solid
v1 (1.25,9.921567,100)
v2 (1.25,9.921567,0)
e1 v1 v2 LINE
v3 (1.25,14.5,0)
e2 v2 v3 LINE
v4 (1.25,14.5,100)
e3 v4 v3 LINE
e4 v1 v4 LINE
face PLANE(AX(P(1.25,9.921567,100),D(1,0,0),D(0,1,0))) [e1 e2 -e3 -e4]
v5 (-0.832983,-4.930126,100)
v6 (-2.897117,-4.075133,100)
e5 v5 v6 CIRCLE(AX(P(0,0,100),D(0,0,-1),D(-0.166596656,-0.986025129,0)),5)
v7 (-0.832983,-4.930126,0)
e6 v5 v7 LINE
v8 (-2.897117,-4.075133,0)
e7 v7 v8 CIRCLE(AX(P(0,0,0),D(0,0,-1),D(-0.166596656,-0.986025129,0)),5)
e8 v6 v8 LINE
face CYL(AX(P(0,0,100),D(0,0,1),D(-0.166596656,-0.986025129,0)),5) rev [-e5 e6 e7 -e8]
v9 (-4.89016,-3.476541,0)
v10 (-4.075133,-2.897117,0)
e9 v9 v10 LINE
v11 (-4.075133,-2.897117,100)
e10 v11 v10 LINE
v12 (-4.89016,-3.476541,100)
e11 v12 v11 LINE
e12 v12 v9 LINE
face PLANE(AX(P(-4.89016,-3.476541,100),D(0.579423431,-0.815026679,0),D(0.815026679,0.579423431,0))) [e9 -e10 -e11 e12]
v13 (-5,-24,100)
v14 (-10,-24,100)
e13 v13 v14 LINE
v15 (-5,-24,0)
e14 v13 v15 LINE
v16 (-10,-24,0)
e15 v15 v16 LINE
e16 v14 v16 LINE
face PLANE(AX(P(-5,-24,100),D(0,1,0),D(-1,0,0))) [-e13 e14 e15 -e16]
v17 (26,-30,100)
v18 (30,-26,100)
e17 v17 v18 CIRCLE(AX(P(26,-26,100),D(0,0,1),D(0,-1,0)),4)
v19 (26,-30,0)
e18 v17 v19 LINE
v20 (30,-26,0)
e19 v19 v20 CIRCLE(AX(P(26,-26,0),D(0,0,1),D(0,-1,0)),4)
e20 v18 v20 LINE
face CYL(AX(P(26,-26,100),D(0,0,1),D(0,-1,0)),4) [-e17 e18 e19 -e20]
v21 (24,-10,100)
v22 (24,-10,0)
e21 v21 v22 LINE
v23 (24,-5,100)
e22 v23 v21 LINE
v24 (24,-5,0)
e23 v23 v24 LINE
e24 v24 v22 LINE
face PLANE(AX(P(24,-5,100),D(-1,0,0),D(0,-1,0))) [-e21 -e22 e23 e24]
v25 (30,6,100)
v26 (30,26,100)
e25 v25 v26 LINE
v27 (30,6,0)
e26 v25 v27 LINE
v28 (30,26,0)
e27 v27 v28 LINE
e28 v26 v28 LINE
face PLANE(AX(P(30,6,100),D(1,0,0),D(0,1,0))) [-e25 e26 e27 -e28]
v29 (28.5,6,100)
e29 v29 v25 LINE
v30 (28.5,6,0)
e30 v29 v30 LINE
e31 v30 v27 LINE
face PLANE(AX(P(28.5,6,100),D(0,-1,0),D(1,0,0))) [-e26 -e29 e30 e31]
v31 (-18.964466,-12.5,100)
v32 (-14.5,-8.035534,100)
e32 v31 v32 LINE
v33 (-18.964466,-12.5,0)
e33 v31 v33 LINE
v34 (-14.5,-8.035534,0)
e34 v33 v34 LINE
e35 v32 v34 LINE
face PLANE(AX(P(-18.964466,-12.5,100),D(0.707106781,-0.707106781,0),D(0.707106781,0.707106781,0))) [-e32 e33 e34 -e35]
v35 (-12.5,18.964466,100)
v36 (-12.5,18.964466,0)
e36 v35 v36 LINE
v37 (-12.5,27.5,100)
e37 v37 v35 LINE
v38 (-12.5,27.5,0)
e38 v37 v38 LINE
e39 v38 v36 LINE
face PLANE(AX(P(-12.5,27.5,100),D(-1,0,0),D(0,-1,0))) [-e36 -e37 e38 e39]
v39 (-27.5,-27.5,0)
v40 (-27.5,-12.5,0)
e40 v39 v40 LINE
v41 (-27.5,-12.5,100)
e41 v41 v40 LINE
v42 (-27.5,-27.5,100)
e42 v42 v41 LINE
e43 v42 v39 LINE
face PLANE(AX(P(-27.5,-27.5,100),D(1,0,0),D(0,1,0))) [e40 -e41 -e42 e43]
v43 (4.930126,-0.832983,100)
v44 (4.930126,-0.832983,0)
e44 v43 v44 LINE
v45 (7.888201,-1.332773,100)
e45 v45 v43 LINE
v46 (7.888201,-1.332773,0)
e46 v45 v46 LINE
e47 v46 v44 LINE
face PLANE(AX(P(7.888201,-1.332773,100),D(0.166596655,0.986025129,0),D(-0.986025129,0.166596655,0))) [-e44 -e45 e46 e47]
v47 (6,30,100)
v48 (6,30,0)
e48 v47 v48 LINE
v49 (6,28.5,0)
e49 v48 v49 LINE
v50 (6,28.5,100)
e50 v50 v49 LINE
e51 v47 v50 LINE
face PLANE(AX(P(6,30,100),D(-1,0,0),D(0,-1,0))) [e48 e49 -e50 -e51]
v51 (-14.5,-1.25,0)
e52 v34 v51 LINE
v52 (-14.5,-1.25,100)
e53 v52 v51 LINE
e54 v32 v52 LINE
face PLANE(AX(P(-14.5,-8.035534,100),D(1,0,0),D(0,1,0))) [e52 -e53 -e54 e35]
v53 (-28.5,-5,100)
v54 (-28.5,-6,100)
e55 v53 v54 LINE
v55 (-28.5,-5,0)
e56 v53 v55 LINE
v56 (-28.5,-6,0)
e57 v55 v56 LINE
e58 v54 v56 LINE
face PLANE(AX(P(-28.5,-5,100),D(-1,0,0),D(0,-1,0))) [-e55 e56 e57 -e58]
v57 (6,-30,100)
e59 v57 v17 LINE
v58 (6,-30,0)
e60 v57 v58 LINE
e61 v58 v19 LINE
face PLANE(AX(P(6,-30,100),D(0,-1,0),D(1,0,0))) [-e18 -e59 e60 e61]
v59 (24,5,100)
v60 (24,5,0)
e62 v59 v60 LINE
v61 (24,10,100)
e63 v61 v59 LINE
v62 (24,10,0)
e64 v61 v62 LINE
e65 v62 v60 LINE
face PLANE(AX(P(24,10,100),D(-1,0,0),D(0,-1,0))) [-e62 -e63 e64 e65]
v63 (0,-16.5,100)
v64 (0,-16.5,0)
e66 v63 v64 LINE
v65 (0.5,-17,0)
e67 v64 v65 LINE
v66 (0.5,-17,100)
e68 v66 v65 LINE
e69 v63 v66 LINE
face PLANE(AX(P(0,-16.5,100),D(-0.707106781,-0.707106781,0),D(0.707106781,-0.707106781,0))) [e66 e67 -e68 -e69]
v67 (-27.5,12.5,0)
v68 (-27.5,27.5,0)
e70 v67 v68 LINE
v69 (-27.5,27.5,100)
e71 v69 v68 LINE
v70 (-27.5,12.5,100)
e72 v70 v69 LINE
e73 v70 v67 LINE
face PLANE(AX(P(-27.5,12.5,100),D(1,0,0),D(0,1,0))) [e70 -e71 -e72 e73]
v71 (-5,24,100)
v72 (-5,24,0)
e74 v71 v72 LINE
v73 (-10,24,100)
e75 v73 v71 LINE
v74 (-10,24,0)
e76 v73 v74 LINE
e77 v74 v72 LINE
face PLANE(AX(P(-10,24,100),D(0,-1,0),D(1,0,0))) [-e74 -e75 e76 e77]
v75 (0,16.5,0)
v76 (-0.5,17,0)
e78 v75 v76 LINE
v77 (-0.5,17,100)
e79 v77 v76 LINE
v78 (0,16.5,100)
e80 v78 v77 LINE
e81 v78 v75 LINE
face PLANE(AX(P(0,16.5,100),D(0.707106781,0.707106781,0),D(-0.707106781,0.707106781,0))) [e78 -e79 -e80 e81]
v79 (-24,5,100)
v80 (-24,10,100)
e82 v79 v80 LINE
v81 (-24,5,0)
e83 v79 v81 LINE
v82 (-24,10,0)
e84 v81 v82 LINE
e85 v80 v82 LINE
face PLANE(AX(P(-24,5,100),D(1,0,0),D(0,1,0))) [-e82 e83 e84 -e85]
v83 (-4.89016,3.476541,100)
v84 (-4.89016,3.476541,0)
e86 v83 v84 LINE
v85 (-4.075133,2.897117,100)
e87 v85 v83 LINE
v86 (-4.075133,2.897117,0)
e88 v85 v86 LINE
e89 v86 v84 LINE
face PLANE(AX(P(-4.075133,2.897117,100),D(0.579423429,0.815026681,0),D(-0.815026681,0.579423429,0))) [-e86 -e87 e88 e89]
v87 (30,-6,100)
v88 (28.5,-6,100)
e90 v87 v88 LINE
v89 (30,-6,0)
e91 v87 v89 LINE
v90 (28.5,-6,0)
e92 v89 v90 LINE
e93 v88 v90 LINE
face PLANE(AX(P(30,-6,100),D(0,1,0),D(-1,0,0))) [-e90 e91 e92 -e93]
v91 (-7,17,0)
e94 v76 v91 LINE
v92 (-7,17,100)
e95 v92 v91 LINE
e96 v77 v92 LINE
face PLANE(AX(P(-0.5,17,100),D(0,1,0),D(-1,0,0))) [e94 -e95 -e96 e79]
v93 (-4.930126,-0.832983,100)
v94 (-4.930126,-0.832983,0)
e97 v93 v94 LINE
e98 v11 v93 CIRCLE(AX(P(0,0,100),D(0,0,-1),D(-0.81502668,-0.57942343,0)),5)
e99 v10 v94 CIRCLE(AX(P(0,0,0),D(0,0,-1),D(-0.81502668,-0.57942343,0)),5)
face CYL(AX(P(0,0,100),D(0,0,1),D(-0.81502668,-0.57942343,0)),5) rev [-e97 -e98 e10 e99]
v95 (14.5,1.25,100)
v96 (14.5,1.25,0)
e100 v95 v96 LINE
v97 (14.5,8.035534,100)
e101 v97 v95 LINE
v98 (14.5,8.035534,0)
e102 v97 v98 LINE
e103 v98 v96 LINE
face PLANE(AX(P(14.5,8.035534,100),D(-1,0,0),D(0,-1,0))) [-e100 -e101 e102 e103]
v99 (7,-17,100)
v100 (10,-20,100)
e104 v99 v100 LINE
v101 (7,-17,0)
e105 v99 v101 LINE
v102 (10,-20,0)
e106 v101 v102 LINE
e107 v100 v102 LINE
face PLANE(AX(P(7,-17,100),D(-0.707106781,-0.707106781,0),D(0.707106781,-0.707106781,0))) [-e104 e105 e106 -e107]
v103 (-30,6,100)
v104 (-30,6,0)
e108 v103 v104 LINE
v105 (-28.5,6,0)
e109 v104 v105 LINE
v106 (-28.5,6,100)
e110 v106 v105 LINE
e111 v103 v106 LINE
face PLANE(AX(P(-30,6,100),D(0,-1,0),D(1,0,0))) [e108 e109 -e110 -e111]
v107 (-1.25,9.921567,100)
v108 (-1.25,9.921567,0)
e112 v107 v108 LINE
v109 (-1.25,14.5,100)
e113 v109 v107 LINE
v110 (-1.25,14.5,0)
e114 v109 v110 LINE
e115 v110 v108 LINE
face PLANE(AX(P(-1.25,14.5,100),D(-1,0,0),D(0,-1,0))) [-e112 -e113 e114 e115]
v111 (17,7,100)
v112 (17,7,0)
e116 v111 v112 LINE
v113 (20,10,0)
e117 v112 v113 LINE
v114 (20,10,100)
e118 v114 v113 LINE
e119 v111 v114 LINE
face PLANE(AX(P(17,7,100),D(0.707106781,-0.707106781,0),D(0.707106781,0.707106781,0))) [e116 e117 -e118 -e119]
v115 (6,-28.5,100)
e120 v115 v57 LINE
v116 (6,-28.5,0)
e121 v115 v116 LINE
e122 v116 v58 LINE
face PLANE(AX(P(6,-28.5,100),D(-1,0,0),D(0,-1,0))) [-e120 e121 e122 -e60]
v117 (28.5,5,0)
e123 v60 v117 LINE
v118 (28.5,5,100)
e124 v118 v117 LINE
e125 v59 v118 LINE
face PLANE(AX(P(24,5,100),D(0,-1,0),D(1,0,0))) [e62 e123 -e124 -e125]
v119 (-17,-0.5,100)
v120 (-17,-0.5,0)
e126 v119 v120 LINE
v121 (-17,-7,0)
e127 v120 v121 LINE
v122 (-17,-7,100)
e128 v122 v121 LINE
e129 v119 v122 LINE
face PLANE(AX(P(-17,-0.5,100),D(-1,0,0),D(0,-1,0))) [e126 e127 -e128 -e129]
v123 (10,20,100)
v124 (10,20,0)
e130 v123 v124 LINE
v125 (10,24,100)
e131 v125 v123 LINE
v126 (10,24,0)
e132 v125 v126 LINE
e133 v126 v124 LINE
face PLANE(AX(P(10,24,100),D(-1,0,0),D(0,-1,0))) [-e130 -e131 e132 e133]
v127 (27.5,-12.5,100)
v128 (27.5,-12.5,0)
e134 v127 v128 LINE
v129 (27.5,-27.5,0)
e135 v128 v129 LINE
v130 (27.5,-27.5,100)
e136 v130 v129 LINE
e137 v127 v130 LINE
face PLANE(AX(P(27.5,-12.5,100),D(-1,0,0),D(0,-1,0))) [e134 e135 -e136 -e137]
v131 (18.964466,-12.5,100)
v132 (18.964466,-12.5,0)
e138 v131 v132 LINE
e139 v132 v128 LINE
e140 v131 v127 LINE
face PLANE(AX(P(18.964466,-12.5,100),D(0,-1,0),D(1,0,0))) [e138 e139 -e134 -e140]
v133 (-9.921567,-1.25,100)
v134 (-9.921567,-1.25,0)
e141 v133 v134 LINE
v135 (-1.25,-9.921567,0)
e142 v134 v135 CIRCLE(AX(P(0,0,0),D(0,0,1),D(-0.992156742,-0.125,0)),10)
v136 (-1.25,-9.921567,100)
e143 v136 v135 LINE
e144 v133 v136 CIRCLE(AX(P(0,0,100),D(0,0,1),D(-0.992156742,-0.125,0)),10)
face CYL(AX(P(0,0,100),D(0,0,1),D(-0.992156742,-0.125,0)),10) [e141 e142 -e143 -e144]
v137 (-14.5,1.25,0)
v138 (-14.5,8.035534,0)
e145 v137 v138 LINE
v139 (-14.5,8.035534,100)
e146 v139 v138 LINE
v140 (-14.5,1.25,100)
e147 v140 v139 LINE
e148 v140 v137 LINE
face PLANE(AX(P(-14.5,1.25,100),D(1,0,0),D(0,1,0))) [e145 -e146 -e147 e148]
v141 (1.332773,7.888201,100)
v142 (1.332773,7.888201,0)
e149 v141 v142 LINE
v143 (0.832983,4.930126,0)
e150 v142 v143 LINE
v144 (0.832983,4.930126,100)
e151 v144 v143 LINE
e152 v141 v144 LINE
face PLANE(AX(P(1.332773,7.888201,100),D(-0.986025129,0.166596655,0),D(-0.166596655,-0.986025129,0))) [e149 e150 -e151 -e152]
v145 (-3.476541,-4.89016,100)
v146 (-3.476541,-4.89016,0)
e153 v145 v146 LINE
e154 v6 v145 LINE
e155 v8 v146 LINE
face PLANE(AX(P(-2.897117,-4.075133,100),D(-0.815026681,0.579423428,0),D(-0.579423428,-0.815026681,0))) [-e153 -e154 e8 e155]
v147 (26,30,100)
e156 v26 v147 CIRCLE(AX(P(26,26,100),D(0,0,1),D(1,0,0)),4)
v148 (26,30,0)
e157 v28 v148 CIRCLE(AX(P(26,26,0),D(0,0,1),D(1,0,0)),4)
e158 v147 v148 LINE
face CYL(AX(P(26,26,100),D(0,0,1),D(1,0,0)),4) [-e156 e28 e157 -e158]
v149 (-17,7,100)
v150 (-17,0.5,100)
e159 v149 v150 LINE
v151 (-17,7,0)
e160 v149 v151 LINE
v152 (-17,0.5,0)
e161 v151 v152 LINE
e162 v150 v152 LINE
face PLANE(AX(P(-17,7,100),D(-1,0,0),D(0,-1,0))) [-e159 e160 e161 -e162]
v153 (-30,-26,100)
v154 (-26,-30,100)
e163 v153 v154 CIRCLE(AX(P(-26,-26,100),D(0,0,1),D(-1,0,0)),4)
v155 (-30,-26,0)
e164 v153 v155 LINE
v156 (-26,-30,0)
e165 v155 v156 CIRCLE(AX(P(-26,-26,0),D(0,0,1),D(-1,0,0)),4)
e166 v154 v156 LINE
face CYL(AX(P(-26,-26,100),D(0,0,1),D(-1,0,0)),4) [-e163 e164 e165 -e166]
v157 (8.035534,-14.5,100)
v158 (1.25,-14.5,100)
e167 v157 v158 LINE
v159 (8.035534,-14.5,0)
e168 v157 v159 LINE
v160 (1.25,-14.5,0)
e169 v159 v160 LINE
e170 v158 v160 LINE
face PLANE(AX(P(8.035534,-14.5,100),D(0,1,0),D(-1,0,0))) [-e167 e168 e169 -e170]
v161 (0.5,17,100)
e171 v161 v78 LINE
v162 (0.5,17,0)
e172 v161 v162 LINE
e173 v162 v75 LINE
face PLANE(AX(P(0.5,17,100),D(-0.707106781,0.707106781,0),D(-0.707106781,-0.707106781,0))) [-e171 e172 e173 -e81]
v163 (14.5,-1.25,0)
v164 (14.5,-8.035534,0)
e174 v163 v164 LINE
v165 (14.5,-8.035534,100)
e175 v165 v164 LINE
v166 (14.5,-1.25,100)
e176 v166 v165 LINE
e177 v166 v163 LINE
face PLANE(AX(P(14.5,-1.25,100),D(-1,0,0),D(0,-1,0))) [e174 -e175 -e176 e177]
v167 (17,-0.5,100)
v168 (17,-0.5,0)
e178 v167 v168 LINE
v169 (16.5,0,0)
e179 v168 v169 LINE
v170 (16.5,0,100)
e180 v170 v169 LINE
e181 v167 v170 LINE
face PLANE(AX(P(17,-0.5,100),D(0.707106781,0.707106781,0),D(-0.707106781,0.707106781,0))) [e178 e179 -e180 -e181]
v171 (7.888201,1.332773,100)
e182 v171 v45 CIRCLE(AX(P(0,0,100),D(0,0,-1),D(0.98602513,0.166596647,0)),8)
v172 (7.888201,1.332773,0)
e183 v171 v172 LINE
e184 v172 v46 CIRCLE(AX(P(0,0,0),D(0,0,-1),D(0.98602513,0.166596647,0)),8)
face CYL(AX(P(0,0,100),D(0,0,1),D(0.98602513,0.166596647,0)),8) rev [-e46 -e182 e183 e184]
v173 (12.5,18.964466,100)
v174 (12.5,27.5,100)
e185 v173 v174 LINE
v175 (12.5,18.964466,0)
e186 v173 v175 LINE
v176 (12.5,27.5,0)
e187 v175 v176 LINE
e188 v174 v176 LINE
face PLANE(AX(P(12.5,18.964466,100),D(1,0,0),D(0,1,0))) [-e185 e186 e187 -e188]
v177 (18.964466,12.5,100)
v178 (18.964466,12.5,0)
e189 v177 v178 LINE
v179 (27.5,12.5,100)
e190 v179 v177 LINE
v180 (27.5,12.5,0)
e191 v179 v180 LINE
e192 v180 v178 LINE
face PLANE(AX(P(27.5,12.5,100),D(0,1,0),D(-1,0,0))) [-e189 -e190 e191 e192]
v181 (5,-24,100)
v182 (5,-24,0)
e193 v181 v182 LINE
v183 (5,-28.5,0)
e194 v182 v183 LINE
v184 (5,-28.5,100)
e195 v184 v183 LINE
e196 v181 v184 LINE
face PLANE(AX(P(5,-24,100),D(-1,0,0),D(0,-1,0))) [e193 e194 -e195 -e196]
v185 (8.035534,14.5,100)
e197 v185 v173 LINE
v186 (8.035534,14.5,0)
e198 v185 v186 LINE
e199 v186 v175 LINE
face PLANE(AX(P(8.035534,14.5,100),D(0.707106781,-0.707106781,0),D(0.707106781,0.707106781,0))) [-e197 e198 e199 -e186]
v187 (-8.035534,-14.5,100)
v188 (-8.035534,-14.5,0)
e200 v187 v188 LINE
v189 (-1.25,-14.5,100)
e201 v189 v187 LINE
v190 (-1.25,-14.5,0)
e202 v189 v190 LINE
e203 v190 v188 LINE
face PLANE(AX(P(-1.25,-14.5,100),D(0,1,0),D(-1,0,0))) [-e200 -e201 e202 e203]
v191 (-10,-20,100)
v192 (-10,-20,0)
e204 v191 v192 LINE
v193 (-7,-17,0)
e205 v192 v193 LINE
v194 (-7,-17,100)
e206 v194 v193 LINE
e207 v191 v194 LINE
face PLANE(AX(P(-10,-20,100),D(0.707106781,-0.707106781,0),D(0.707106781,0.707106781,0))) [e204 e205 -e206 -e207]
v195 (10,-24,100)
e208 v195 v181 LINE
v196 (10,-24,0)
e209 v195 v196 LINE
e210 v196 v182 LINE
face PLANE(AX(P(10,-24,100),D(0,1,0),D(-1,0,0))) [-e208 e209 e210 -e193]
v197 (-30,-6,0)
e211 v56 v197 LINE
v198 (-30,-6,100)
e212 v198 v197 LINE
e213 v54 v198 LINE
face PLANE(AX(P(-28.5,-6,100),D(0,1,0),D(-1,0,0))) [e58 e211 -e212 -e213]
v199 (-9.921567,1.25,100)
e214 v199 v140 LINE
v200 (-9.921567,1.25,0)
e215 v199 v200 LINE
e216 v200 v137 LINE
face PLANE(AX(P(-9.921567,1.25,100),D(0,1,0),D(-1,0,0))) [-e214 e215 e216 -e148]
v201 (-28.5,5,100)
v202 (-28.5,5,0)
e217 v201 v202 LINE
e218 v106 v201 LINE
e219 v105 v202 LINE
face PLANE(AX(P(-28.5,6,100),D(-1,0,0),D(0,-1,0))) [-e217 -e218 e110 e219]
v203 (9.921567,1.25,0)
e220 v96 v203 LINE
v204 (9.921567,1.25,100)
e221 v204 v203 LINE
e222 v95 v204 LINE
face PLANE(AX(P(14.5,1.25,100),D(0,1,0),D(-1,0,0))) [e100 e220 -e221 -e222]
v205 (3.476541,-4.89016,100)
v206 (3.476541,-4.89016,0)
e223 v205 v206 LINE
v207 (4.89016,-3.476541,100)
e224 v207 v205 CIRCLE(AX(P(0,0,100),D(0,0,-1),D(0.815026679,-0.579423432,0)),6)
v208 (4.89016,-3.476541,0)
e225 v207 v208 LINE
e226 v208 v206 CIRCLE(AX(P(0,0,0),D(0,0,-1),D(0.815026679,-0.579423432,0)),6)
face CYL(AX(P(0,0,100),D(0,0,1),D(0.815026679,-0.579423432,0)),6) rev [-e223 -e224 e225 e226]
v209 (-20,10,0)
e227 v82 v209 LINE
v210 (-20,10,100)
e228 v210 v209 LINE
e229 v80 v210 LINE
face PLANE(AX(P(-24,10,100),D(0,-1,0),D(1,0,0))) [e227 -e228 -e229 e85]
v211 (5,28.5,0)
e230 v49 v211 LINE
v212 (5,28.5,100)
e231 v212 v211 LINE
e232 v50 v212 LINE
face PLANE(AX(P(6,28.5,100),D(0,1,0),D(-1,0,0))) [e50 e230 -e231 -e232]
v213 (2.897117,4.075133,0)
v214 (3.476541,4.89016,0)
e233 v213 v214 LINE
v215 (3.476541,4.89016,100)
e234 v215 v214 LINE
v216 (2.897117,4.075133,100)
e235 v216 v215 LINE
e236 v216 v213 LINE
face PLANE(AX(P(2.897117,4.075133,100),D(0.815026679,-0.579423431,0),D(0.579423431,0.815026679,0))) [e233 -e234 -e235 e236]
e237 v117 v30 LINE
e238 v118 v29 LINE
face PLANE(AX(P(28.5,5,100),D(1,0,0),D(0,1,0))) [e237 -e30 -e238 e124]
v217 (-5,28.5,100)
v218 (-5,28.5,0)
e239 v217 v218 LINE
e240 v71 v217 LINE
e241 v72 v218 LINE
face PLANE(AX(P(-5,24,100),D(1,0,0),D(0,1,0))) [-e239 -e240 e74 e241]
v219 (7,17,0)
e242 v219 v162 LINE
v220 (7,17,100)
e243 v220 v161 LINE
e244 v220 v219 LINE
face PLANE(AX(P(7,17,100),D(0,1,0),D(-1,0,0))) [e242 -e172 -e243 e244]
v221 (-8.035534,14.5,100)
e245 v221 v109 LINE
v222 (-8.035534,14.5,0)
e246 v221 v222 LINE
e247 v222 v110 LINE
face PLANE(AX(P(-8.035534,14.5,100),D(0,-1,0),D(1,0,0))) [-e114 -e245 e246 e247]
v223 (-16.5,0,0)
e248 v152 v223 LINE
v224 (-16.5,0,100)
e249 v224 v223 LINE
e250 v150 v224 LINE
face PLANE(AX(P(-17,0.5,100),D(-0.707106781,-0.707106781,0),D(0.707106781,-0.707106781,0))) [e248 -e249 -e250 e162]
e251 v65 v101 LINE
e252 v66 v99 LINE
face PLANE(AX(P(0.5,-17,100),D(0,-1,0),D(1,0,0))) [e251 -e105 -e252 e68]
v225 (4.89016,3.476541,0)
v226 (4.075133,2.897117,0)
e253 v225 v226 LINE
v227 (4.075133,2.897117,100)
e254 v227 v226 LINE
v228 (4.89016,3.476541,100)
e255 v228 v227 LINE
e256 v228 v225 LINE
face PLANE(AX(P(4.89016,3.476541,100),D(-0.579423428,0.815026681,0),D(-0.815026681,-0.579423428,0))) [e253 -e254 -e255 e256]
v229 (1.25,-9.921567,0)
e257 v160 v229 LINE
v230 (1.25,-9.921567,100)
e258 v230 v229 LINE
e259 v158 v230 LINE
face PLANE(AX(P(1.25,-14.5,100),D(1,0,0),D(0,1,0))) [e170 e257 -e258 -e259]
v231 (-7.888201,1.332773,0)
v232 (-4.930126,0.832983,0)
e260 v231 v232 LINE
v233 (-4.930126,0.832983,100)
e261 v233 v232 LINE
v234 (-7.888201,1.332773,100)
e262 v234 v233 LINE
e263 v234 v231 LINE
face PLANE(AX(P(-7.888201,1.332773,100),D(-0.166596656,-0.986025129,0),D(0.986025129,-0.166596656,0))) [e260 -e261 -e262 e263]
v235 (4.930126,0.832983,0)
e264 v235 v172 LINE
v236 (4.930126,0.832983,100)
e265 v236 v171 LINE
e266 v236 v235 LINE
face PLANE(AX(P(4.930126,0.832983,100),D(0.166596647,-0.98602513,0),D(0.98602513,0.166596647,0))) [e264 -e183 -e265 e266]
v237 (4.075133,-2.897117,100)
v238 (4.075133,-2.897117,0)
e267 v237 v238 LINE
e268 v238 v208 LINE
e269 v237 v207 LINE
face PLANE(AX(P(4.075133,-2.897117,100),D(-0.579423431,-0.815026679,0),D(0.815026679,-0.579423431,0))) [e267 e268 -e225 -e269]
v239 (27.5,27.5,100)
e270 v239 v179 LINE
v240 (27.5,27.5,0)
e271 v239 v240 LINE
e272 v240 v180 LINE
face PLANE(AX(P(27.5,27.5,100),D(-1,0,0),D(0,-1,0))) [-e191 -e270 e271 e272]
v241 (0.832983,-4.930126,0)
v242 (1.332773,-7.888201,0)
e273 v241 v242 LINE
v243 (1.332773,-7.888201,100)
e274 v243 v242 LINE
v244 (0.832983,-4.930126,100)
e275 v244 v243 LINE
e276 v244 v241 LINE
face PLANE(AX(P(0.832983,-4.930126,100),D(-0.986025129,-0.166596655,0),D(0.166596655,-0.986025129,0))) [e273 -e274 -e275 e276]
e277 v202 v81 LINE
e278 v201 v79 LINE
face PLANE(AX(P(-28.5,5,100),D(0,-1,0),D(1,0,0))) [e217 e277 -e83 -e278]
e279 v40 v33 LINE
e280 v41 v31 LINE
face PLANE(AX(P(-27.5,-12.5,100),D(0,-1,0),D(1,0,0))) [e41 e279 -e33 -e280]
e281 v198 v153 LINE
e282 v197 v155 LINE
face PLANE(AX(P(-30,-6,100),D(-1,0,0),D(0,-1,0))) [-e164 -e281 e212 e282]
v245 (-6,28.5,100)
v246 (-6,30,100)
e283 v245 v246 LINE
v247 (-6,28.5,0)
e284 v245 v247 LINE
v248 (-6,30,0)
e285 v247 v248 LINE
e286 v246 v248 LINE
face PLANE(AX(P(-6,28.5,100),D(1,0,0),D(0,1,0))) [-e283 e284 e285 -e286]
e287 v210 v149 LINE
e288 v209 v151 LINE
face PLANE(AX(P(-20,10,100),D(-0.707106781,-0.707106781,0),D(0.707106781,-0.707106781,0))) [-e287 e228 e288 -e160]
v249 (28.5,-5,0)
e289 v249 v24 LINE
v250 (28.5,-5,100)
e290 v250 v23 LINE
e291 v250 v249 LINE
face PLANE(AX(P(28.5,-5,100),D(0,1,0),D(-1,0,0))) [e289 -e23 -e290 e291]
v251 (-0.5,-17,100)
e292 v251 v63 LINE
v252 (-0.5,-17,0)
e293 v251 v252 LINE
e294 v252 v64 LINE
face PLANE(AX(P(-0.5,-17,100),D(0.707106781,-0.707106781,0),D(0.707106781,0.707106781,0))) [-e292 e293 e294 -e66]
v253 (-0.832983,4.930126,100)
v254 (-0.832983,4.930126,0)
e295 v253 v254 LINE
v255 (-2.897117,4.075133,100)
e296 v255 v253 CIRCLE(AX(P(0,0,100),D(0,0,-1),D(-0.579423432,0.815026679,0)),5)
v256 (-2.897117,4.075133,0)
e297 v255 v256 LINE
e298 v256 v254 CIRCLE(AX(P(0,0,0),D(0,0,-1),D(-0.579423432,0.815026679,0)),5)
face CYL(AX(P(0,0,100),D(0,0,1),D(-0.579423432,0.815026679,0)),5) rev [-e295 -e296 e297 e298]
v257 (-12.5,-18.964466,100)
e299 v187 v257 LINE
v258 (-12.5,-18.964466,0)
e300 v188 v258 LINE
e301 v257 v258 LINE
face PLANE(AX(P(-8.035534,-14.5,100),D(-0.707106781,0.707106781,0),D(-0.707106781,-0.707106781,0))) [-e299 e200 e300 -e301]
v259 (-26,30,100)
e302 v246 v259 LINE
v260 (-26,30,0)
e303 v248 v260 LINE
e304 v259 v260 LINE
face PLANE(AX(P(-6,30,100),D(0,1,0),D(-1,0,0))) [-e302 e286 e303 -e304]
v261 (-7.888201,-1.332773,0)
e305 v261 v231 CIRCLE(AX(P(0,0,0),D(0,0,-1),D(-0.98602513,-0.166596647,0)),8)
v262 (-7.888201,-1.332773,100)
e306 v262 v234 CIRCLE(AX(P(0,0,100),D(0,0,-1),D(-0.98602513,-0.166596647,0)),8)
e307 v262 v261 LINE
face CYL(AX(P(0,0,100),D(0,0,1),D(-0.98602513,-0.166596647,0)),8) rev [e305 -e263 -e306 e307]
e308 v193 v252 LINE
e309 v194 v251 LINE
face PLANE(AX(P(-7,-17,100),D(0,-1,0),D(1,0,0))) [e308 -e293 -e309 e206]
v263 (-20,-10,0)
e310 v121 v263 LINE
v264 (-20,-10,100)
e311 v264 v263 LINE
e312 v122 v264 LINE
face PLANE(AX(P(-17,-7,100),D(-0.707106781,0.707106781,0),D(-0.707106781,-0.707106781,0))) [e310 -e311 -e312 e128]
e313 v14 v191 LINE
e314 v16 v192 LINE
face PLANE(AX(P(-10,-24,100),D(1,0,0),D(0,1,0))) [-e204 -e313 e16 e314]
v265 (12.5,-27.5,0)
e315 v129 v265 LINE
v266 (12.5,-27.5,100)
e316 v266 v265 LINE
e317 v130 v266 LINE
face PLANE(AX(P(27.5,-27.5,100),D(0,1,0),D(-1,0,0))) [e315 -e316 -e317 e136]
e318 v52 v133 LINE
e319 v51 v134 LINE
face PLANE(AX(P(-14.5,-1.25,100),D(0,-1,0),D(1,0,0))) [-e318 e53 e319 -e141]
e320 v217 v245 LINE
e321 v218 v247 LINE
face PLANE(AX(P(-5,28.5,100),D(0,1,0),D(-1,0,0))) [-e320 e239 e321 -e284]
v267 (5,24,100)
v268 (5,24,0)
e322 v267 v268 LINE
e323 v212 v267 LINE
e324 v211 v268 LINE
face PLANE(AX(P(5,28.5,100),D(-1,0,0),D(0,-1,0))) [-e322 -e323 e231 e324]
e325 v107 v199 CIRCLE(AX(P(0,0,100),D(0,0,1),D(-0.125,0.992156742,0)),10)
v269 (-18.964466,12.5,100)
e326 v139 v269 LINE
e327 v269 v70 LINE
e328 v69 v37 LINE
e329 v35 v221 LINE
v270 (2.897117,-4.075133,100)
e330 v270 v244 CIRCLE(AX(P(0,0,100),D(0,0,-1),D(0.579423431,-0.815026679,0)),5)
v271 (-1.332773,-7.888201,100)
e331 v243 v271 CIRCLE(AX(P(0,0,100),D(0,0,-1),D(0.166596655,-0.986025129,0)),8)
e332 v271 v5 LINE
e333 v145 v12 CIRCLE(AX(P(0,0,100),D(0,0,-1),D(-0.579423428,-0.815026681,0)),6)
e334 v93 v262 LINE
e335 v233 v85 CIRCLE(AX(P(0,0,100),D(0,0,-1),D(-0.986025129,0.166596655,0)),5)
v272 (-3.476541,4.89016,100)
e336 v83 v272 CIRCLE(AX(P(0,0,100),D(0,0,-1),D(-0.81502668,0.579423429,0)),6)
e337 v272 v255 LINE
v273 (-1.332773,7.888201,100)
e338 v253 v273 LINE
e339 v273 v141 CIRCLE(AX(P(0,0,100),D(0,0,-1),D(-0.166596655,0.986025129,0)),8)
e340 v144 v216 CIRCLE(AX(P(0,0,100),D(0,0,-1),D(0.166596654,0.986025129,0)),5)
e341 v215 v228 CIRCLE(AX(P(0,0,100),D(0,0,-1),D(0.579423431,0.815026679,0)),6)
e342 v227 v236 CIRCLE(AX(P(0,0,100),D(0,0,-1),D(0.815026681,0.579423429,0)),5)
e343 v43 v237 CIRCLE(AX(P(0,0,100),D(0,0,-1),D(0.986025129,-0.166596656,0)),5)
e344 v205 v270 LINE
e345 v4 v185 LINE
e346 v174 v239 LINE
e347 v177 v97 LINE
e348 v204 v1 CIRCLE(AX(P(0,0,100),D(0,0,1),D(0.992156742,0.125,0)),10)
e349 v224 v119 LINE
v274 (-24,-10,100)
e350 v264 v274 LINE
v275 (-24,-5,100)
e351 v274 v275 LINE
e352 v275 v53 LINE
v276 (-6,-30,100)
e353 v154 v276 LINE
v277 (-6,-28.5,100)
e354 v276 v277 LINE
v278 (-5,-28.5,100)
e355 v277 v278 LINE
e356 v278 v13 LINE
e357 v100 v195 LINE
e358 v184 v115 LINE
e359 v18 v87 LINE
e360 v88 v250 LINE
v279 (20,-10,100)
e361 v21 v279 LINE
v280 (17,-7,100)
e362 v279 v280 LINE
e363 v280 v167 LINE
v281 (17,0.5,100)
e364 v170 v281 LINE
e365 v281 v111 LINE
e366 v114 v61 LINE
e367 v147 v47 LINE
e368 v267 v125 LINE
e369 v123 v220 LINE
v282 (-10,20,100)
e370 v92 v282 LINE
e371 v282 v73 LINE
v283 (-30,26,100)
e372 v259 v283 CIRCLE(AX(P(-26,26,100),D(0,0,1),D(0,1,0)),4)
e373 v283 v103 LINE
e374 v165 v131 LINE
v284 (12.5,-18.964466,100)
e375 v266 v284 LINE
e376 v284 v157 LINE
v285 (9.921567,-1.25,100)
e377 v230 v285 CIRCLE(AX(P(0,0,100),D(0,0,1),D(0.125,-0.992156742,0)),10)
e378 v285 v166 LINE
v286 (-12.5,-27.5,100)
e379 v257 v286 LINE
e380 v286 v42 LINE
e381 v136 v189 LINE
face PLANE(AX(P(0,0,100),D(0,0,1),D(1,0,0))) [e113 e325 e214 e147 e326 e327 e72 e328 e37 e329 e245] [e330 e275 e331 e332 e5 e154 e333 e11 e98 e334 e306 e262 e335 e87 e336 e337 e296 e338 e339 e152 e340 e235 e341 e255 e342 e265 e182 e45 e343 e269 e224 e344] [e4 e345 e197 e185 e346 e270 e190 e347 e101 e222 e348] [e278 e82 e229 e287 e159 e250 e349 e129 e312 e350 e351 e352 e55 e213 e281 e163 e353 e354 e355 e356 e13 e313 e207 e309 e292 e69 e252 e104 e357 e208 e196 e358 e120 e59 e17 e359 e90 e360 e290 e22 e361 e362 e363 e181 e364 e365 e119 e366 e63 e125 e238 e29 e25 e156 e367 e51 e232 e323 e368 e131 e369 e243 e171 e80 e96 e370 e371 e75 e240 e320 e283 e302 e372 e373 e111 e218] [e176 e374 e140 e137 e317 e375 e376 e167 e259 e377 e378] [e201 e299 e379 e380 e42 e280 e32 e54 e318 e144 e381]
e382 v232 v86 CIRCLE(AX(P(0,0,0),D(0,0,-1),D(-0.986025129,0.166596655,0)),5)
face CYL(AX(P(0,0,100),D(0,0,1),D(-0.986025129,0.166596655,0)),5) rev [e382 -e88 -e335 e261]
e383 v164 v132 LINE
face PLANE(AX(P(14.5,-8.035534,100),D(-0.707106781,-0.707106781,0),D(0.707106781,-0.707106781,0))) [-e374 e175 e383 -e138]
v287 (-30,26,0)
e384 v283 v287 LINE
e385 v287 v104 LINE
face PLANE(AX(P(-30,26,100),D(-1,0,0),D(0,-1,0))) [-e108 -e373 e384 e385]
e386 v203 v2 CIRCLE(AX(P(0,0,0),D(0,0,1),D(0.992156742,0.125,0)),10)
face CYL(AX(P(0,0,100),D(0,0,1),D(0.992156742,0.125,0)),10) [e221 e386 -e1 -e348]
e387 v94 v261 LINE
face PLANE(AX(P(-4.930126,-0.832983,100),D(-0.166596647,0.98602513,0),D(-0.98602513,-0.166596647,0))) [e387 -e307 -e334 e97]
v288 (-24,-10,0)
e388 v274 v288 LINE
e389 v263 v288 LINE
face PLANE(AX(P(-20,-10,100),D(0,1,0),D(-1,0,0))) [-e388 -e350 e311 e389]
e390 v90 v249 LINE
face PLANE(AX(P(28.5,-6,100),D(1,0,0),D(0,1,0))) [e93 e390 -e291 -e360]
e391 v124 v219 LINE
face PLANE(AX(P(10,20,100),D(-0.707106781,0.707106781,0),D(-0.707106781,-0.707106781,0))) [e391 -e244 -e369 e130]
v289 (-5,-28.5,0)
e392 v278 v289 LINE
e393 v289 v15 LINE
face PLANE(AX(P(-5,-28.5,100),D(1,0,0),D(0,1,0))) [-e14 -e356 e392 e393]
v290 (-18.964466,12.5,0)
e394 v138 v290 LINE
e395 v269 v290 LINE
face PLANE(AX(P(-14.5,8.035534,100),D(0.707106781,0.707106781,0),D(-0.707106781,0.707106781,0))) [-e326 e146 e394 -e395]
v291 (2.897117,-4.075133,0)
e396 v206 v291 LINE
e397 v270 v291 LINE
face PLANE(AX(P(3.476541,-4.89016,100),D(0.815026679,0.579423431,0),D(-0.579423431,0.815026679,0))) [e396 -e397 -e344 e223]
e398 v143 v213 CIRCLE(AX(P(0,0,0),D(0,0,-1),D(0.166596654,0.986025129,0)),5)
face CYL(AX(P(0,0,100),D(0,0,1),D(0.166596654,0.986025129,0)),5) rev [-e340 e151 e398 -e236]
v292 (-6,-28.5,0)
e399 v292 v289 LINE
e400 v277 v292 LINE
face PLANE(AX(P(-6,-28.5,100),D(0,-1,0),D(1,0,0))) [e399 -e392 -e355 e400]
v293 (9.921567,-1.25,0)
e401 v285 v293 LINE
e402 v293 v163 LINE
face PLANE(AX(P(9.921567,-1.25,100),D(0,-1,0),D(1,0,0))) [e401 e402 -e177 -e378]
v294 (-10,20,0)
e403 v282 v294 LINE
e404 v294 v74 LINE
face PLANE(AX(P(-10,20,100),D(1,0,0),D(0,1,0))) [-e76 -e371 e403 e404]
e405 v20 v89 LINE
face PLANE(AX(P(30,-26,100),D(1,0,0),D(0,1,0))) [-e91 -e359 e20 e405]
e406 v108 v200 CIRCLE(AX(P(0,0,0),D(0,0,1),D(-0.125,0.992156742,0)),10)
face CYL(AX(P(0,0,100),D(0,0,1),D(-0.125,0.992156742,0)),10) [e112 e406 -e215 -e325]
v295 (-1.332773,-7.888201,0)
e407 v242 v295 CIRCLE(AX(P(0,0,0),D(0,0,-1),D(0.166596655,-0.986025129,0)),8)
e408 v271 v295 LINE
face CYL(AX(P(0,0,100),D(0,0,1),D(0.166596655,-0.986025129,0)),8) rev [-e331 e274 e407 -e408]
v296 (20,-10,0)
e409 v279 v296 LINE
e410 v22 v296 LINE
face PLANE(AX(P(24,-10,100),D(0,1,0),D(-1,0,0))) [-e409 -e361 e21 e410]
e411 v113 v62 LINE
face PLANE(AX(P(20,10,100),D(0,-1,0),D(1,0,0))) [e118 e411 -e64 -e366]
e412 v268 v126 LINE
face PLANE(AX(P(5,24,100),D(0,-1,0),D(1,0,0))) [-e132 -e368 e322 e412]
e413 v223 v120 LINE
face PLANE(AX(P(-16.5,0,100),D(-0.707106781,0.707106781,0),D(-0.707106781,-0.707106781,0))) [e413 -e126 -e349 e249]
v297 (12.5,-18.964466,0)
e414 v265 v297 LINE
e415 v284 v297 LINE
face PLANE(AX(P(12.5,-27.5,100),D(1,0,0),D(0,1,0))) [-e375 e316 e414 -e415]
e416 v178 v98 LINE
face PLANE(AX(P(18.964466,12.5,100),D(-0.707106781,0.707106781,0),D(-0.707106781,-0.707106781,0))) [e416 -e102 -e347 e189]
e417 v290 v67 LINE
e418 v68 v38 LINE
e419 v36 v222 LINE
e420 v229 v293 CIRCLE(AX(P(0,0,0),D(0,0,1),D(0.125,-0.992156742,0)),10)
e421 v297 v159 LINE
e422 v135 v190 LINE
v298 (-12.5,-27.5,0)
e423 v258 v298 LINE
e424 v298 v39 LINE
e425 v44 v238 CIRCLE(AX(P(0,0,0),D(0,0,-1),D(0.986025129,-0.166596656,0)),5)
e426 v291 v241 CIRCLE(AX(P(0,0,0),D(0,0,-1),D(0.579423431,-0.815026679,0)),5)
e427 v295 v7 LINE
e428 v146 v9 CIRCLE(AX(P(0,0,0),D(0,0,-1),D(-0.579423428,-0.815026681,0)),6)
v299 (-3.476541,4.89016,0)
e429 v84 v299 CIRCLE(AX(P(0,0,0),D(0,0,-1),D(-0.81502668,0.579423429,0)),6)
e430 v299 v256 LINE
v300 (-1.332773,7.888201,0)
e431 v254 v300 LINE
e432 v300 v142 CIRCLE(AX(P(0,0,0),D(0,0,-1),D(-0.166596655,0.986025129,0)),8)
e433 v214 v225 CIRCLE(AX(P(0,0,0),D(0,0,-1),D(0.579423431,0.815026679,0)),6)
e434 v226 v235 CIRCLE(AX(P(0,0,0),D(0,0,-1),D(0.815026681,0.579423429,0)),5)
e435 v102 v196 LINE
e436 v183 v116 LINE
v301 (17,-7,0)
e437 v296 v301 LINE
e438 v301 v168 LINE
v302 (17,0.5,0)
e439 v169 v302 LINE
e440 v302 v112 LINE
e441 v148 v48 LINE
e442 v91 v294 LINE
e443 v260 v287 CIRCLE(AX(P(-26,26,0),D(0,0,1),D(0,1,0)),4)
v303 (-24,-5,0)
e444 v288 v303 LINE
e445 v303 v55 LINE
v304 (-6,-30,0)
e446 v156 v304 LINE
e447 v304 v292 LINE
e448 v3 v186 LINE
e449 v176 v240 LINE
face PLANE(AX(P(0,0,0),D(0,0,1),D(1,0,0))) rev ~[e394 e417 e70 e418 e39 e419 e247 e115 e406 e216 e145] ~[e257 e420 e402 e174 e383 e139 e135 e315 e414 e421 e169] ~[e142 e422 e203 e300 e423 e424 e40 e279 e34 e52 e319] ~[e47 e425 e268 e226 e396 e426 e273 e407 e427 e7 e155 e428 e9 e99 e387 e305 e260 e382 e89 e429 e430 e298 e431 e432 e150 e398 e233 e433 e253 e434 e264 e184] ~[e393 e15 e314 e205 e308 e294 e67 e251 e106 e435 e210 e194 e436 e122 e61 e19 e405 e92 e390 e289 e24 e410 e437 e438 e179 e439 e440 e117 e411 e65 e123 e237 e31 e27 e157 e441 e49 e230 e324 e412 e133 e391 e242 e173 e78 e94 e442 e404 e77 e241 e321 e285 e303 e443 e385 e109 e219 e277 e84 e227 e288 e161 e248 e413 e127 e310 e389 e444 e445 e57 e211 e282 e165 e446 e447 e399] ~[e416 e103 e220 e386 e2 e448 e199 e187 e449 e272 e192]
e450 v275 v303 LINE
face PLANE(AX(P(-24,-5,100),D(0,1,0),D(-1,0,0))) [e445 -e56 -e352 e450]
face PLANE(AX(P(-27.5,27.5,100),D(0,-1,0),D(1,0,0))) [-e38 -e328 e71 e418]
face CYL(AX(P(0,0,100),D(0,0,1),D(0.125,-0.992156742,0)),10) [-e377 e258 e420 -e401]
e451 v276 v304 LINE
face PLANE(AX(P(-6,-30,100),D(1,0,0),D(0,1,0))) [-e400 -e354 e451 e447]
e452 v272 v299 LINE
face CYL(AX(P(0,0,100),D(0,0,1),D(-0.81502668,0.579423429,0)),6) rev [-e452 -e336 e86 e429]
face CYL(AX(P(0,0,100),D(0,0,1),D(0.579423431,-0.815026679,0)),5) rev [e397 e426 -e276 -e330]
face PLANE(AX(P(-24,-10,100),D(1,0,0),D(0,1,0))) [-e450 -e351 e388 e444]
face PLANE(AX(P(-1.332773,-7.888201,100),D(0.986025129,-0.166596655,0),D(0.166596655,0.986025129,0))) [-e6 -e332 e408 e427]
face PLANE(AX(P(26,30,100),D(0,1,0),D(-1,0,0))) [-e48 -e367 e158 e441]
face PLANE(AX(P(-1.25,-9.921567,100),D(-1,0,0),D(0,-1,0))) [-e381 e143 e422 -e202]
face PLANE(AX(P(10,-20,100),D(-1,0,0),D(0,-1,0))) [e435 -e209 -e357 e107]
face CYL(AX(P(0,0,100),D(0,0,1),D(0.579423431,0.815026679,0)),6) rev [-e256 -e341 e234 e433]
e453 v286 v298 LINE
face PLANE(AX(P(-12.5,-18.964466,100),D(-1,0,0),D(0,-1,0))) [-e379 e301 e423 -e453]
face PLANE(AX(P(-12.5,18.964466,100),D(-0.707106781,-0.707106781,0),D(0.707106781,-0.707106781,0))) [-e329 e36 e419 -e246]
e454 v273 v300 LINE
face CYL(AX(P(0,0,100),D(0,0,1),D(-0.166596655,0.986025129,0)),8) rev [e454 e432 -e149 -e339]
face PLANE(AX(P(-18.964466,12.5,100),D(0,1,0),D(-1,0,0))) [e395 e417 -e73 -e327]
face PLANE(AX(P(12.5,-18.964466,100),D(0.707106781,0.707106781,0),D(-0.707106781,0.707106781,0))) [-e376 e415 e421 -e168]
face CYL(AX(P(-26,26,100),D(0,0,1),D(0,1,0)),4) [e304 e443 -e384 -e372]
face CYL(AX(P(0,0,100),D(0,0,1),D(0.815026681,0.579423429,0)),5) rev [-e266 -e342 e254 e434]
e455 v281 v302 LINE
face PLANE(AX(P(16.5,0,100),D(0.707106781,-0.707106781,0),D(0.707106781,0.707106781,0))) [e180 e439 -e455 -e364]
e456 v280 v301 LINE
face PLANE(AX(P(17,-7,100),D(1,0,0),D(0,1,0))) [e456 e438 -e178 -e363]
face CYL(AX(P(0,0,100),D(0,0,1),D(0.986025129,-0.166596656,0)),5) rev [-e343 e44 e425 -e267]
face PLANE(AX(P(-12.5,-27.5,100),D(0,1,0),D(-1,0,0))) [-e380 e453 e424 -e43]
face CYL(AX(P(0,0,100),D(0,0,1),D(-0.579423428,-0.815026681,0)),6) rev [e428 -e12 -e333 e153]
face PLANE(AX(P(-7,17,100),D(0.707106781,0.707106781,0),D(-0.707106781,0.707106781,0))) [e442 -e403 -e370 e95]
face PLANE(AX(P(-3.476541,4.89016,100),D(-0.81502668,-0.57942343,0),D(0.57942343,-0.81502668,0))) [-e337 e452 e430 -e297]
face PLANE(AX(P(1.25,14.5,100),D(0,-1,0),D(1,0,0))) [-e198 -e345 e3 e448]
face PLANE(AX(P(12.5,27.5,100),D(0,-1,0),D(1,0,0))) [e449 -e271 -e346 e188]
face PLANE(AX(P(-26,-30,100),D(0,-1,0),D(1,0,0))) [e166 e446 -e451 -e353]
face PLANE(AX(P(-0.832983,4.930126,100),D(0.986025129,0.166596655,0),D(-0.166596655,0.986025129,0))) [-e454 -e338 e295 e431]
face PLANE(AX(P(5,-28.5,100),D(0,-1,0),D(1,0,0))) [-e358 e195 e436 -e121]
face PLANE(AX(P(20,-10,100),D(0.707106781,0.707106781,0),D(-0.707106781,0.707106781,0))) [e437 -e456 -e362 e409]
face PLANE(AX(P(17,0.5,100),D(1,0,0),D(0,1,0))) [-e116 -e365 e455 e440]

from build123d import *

# Parameters (mm, degrees)
Y_KSEKLIK_EKSTR_ZYON1_DEPTH = 100


with BuildPart() as part:
    # Çizim1 → Yükseklik-Ekstrüzyon1 (new body)
    with BuildSketch(Plane.XY.offset(100)):
        with BuildLine():
            Line((6, -28.5), (6, -30))
            Line((6, -30), (26, -30))
            ThreePointArc((26, -30), (28.828427125, -28.828427125), (30, -26))
            Line((30, -26), (30, -6))
            Line((30, -6), (28.5, -6))
            Line((28.5, -6), (28.5, -5))
            Line((28.5, -5), (24, -5))
            Line((24, -5), (24, -10))
            Line((24, -10), (20, -10))
            Line((20, -10), (17, -7))
            Line((17, -7), (17, -0.5))
            Line((17, -0.5), (16.5, 0))
            Line((16.5, 0), (17, 0.5))
            Line((17, 0.5), (17, 7))
            Line((17, 7), (20, 10))
            Line((20, 10), (24, 10))
            Line((24, 10), (24, 5))
            Line((24, 5), (28.5, 5))
            Line((28.5, 5), (28.5, 6))
            Line((28.5, 6), (30, 6))
            Line((30, 6), (30, 26))
            ThreePointArc((30, 26), (28.828427125, 28.828427125), (26, 30))
            Line((26, 30), (6, 30))
            Line((6, 30), (6, 28.5))
            Line((6, 28.5), (5, 28.5))
            Line((5, 28.5), (5, 24))
            Line((5, 24), (10, 24))
            Line((10, 24), (10, 20))
            Line((10, 20), (7, 17))
            Line((7, 17), (0.5, 17))
            Line((0.5, 17), (0, 16.5))
            Line((0, 16.5), (-0.5, 17))
            Line((-0.5, 17), (-7, 17))
            Line((-7, 17), (-10, 20))
            Line((-10, 20), (-10, 24))
            Line((-10, 24), (-5, 24))
            Line((-5, 24), (-5, 28.5))
            Line((-5, 28.5), (-6, 28.5))
            Line((-6, 28.5), (-6, 30))
            Line((-6, 30), (-26, 30))
            ThreePointArc((-26, 30), (-28.828427125, 28.828427125), (-30, 26))
            Line((-30, 26), (-30, 6))
            Line((-30, 6), (-28.5, 6))
            Line((-28.5, 6), (-28.5, 5))
            Line((-28.5, 5), (-24, 5))
            Line((-24, 5), (-24, 10))
            Line((-24, 10), (-20, 10))
            Line((-20, 10), (-17, 7))
            Line((-17, 7), (-17, 0.5))
            Line((-17, 0.5), (-16.5, 0))
            Line((-16.5, 0), (-17, -0.5))
            Line((-17, -0.5), (-17, -7))
            Line((-17, -7), (-20, -10))
            Line((-20, -10), (-24, -10))
            Line((-24, -10), (-24, -5))
            Line((-24, -5), (-28.5, -5))
            Line((-28.5, -5), (-28.5, -6))
            Line((-28.5, -6), (-30, -6))
            Line((-30, -6), (-30, -26))
            ThreePointArc((-30, -26), (-28.828427125, -28.828427125), (-26, -30))
            Line((-26, -30), (-6, -30))
            Line((-6, -30), (-6, -28.5))
            Line((-6, -28.5), (-5, -28.5))
            Line((-5, -28.5), (-5, -24))
            Line((-5, -24), (-10, -24))
            Line((-10, -24), (-10, -20))
            Line((-10, -20), (-7, -17))
            Line((-7, -17), (-0.5, -17))
            Line((-0.5, -17), (0, -16.5))
            Line((0, -16.5), (0.5, -17))
            Line((0.5, -17), (7, -17))
            Line((7, -17), (10, -20))
            Line((10, -20), (10, -24))
            Line((10, -24), (5, -24))
            Line((5, -24), (5, -28.5))
            Line((5, -28.5), (6, -28.5))
        make_face()
        with BuildLine():
            Line((0.832983278, -4.930125652), (1.332773242, -7.88820103))
            ThreePointArc((1.332773242, -7.88820103), (1e-09, -8), (-1.33277324, -7.88820103))
            Line((-1.33277324, -7.88820103), (-0.832983276, -4.930125653))
            ThreePointArc((-0.832983276, -4.930125653), (-1.913417159, -4.619397673), (-2.897117147, -4.075133412))
            Line((-2.897117147, -4.075133412), (-3.476540579, -4.890160098))
            ThreePointArc((-3.476540579, -4.890160098), (-4.242640692, -4.242640704), (-4.890160088, -3.476540593))
            Line((-4.890160088, -3.476540593), (-4.075133404, -2.897117158))
            ThreePointArc((-4.075133404, -2.897117158), (-4.619397678, -1.913417147), (-4.930125659, -0.832983237))
            Line((-4.930125659, -0.832983237), (-7.888201041, -1.332773176))
            ThreePointArc((-7.888201041, -1.332773176), (-8, 3.5e-08), (-7.888201029, 1.332773245))
            Line((-7.888201029, 1.332773245), (-4.930125652, 0.83298328))
            ThreePointArc((-4.930125652, 0.83298328), (-4.619397673, 1.913417161), (-4.075133412, 2.897117148))
            Line((-4.075133412, 2.897117148), (-4.890160097, 3.47654058))
            ThreePointArc((-4.890160097, 3.47654058), (-4.242640703, 4.242640692), (-3.476540592, 4.890160089))
            Line((-3.476540592, 4.890160089), (-2.897117158, 4.075133404))
            ThreePointArc((-2.897117158, 4.075133404), (-1.913417166, 4.619397671), (-0.832983278, 4.930125652))
            Line((-0.832983278, 4.930125652), (-1.332773242, 7.88820103))
            ThreePointArc((-1.332773242, 7.88820103), (-1e-09, 8), (1.33277324, 7.88820103))
            Line((1.33277324, 7.88820103), (0.832983276, 4.930125653))
            ThreePointArc((0.832983276, 4.930125653), (1.913417166, 4.619397671), (2.897117158, 4.075133404))
            Line((2.897117158, 4.075133404), (3.476540592, 4.890160088))
            ThreePointArc((3.476540592, 4.890160088), (4.242640703, 4.242640692), (4.890160098, 3.476540579))
            Line((4.890160098, 3.476540579), (4.075133412, 2.897117147))
            ThreePointArc((4.075133412, 2.897117147), (4.619397681, 1.913417141), (4.930125659, 0.832983237))
            Line((4.930125659, 0.832983237), (7.888201041, 1.332773176))
            ThreePointArc((7.888201041, 1.332773176), (8, -3.5e-08), (7.88820103, -1.332773245))
            Line((7.88820103, -1.332773245), (4.930125652, -0.83298328))
            ThreePointArc((4.930125652, -0.83298328), (4.61939767, -1.913417167), (4.075133404, -2.897117159))
            Line((4.075133404, -2.897117159), (4.890160088, -3.476540593))
            ThreePointArc((4.890160088, -3.476540593), (4.242640698, -4.242640697), (3.476540594, -4.890160088))
            Line((3.476540594, -4.890160088), (2.897117159, -4.075133403))
            ThreePointArc((2.897117159, -4.075133403), (1.913417167, -4.61939767), (0.832983278, -4.930125652))
        make_face(mode=Mode.SUBTRACT)
        with BuildLine():
            Line((12.5, 18.964466094), (12.5, 27.5))
            Line((12.5, 27.5), (27.5, 27.5))
            Line((27.5, 27.5), (27.5, 12.5))
            Line((27.5, 12.5), (18.964466094, 12.5))
            Line((18.964466094, 12.5), (14.5, 8.035533906))
            Line((14.5, 8.035533906), (14.5, 1.250000001))
            Line((14.5, 1.250000001), (9.921567416, 1.250000001))
            ThreePointArc((9.921567416, 1.250000001), (7.071067812, 7.071067812), (1.250000001, 9.921567416))
            Line((1.250000001, 9.921567416), (1.250000001, 14.5))
            Line((1.250000001, 14.5), (8.035533906, 14.5))
            Line((8.035533906, 14.5), (12.5, 18.964466094))
        make_face(mode=Mode.SUBTRACT)
        with BuildLine():
            Line((18.964466094, -12.5), (27.5, -12.5))
            Line((27.5, -12.5), (27.5, -27.5))
            Line((27.5, -27.5), (12.5, -27.5))
            Line((12.5, -27.5), (12.5, -18.964466094))
            Line((12.5, -18.964466094), (8.035533906, -14.5))
            Line((8.035533906, -14.5), (1.250000001, -14.5))
            Line((1.250000001, -14.5), (1.250000001, -9.921567416))
            ThreePointArc((1.250000001, -9.921567416), (7.071067812, -7.071067812), (9.921567416, -1.250000001))
            Line((9.921567416, -1.250000001), (14.5, -1.250000001))
            Line((14.5, -1.250000001), (14.5, -8.035533906))
            Line((14.5, -8.035533906), (18.964466094, -12.5))
        make_face(mode=Mode.SUBTRACT)
        with BuildLine():
            Line((-12.5, -18.964466094), (-12.5, -27.5))
            Line((-12.5, -27.5), (-27.5, -27.5))
            Line((-27.5, -27.5), (-27.5, -12.5))
            Line((-27.5, -12.5), (-18.964466094, -12.5))
            Line((-18.964466094, -12.5), (-14.5, -8.035533906))
            Line((-14.5, -8.035533906), (-14.5, -1.250000001))
            Line((-14.5, -1.250000001), (-9.921567416, -1.250000001))
            ThreePointArc((-9.921567416, -1.250000001), (-7.071067812, -7.071067812), (-1.250000001, -9.921567416))
            Line((-1.250000001, -9.921567416), (-1.250000001, -14.5))
            Line((-1.250000001, -14.5), (-8.035533906, -14.5))
            Line((-8.035533906, -14.5), (-12.5, -18.964466094))
        make_face(mode=Mode.SUBTRACT)
        with BuildLine():
            Line((-18.964466094, 12.5), (-27.5, 12.5))
            Line((-27.5, 12.5), (-27.5, 27.5))
            Line((-27.5, 27.5), (-12.5, 27.5))
            Line((-12.5, 27.5), (-12.5, 18.964466094))
            Line((-12.5, 18.964466094), (-8.035533906, 14.5))
            Line((-8.035533906, 14.5), (-1.250000001, 14.5))
            Line((-1.250000001, 14.5), (-1.250000001, 9.921567416))
            ThreePointArc((-1.250000001, 9.921567416), (-7.071067812, 7.071067812), (-9.921567416, 1.250000001))
            Line((-9.921567416, 1.250000001), (-14.5, 1.250000001))
            Line((-14.5, 1.250000001), (-14.5, 8.035533906))
            Line((-14.5, 8.035533906), (-18.964466094, 12.5))
        make_face(mode=Mode.SUBTRACT)
    extrude(amount=-Y_KSEKLIK_EKSTR_ZYON1_DEPTH)


solid = part.part
